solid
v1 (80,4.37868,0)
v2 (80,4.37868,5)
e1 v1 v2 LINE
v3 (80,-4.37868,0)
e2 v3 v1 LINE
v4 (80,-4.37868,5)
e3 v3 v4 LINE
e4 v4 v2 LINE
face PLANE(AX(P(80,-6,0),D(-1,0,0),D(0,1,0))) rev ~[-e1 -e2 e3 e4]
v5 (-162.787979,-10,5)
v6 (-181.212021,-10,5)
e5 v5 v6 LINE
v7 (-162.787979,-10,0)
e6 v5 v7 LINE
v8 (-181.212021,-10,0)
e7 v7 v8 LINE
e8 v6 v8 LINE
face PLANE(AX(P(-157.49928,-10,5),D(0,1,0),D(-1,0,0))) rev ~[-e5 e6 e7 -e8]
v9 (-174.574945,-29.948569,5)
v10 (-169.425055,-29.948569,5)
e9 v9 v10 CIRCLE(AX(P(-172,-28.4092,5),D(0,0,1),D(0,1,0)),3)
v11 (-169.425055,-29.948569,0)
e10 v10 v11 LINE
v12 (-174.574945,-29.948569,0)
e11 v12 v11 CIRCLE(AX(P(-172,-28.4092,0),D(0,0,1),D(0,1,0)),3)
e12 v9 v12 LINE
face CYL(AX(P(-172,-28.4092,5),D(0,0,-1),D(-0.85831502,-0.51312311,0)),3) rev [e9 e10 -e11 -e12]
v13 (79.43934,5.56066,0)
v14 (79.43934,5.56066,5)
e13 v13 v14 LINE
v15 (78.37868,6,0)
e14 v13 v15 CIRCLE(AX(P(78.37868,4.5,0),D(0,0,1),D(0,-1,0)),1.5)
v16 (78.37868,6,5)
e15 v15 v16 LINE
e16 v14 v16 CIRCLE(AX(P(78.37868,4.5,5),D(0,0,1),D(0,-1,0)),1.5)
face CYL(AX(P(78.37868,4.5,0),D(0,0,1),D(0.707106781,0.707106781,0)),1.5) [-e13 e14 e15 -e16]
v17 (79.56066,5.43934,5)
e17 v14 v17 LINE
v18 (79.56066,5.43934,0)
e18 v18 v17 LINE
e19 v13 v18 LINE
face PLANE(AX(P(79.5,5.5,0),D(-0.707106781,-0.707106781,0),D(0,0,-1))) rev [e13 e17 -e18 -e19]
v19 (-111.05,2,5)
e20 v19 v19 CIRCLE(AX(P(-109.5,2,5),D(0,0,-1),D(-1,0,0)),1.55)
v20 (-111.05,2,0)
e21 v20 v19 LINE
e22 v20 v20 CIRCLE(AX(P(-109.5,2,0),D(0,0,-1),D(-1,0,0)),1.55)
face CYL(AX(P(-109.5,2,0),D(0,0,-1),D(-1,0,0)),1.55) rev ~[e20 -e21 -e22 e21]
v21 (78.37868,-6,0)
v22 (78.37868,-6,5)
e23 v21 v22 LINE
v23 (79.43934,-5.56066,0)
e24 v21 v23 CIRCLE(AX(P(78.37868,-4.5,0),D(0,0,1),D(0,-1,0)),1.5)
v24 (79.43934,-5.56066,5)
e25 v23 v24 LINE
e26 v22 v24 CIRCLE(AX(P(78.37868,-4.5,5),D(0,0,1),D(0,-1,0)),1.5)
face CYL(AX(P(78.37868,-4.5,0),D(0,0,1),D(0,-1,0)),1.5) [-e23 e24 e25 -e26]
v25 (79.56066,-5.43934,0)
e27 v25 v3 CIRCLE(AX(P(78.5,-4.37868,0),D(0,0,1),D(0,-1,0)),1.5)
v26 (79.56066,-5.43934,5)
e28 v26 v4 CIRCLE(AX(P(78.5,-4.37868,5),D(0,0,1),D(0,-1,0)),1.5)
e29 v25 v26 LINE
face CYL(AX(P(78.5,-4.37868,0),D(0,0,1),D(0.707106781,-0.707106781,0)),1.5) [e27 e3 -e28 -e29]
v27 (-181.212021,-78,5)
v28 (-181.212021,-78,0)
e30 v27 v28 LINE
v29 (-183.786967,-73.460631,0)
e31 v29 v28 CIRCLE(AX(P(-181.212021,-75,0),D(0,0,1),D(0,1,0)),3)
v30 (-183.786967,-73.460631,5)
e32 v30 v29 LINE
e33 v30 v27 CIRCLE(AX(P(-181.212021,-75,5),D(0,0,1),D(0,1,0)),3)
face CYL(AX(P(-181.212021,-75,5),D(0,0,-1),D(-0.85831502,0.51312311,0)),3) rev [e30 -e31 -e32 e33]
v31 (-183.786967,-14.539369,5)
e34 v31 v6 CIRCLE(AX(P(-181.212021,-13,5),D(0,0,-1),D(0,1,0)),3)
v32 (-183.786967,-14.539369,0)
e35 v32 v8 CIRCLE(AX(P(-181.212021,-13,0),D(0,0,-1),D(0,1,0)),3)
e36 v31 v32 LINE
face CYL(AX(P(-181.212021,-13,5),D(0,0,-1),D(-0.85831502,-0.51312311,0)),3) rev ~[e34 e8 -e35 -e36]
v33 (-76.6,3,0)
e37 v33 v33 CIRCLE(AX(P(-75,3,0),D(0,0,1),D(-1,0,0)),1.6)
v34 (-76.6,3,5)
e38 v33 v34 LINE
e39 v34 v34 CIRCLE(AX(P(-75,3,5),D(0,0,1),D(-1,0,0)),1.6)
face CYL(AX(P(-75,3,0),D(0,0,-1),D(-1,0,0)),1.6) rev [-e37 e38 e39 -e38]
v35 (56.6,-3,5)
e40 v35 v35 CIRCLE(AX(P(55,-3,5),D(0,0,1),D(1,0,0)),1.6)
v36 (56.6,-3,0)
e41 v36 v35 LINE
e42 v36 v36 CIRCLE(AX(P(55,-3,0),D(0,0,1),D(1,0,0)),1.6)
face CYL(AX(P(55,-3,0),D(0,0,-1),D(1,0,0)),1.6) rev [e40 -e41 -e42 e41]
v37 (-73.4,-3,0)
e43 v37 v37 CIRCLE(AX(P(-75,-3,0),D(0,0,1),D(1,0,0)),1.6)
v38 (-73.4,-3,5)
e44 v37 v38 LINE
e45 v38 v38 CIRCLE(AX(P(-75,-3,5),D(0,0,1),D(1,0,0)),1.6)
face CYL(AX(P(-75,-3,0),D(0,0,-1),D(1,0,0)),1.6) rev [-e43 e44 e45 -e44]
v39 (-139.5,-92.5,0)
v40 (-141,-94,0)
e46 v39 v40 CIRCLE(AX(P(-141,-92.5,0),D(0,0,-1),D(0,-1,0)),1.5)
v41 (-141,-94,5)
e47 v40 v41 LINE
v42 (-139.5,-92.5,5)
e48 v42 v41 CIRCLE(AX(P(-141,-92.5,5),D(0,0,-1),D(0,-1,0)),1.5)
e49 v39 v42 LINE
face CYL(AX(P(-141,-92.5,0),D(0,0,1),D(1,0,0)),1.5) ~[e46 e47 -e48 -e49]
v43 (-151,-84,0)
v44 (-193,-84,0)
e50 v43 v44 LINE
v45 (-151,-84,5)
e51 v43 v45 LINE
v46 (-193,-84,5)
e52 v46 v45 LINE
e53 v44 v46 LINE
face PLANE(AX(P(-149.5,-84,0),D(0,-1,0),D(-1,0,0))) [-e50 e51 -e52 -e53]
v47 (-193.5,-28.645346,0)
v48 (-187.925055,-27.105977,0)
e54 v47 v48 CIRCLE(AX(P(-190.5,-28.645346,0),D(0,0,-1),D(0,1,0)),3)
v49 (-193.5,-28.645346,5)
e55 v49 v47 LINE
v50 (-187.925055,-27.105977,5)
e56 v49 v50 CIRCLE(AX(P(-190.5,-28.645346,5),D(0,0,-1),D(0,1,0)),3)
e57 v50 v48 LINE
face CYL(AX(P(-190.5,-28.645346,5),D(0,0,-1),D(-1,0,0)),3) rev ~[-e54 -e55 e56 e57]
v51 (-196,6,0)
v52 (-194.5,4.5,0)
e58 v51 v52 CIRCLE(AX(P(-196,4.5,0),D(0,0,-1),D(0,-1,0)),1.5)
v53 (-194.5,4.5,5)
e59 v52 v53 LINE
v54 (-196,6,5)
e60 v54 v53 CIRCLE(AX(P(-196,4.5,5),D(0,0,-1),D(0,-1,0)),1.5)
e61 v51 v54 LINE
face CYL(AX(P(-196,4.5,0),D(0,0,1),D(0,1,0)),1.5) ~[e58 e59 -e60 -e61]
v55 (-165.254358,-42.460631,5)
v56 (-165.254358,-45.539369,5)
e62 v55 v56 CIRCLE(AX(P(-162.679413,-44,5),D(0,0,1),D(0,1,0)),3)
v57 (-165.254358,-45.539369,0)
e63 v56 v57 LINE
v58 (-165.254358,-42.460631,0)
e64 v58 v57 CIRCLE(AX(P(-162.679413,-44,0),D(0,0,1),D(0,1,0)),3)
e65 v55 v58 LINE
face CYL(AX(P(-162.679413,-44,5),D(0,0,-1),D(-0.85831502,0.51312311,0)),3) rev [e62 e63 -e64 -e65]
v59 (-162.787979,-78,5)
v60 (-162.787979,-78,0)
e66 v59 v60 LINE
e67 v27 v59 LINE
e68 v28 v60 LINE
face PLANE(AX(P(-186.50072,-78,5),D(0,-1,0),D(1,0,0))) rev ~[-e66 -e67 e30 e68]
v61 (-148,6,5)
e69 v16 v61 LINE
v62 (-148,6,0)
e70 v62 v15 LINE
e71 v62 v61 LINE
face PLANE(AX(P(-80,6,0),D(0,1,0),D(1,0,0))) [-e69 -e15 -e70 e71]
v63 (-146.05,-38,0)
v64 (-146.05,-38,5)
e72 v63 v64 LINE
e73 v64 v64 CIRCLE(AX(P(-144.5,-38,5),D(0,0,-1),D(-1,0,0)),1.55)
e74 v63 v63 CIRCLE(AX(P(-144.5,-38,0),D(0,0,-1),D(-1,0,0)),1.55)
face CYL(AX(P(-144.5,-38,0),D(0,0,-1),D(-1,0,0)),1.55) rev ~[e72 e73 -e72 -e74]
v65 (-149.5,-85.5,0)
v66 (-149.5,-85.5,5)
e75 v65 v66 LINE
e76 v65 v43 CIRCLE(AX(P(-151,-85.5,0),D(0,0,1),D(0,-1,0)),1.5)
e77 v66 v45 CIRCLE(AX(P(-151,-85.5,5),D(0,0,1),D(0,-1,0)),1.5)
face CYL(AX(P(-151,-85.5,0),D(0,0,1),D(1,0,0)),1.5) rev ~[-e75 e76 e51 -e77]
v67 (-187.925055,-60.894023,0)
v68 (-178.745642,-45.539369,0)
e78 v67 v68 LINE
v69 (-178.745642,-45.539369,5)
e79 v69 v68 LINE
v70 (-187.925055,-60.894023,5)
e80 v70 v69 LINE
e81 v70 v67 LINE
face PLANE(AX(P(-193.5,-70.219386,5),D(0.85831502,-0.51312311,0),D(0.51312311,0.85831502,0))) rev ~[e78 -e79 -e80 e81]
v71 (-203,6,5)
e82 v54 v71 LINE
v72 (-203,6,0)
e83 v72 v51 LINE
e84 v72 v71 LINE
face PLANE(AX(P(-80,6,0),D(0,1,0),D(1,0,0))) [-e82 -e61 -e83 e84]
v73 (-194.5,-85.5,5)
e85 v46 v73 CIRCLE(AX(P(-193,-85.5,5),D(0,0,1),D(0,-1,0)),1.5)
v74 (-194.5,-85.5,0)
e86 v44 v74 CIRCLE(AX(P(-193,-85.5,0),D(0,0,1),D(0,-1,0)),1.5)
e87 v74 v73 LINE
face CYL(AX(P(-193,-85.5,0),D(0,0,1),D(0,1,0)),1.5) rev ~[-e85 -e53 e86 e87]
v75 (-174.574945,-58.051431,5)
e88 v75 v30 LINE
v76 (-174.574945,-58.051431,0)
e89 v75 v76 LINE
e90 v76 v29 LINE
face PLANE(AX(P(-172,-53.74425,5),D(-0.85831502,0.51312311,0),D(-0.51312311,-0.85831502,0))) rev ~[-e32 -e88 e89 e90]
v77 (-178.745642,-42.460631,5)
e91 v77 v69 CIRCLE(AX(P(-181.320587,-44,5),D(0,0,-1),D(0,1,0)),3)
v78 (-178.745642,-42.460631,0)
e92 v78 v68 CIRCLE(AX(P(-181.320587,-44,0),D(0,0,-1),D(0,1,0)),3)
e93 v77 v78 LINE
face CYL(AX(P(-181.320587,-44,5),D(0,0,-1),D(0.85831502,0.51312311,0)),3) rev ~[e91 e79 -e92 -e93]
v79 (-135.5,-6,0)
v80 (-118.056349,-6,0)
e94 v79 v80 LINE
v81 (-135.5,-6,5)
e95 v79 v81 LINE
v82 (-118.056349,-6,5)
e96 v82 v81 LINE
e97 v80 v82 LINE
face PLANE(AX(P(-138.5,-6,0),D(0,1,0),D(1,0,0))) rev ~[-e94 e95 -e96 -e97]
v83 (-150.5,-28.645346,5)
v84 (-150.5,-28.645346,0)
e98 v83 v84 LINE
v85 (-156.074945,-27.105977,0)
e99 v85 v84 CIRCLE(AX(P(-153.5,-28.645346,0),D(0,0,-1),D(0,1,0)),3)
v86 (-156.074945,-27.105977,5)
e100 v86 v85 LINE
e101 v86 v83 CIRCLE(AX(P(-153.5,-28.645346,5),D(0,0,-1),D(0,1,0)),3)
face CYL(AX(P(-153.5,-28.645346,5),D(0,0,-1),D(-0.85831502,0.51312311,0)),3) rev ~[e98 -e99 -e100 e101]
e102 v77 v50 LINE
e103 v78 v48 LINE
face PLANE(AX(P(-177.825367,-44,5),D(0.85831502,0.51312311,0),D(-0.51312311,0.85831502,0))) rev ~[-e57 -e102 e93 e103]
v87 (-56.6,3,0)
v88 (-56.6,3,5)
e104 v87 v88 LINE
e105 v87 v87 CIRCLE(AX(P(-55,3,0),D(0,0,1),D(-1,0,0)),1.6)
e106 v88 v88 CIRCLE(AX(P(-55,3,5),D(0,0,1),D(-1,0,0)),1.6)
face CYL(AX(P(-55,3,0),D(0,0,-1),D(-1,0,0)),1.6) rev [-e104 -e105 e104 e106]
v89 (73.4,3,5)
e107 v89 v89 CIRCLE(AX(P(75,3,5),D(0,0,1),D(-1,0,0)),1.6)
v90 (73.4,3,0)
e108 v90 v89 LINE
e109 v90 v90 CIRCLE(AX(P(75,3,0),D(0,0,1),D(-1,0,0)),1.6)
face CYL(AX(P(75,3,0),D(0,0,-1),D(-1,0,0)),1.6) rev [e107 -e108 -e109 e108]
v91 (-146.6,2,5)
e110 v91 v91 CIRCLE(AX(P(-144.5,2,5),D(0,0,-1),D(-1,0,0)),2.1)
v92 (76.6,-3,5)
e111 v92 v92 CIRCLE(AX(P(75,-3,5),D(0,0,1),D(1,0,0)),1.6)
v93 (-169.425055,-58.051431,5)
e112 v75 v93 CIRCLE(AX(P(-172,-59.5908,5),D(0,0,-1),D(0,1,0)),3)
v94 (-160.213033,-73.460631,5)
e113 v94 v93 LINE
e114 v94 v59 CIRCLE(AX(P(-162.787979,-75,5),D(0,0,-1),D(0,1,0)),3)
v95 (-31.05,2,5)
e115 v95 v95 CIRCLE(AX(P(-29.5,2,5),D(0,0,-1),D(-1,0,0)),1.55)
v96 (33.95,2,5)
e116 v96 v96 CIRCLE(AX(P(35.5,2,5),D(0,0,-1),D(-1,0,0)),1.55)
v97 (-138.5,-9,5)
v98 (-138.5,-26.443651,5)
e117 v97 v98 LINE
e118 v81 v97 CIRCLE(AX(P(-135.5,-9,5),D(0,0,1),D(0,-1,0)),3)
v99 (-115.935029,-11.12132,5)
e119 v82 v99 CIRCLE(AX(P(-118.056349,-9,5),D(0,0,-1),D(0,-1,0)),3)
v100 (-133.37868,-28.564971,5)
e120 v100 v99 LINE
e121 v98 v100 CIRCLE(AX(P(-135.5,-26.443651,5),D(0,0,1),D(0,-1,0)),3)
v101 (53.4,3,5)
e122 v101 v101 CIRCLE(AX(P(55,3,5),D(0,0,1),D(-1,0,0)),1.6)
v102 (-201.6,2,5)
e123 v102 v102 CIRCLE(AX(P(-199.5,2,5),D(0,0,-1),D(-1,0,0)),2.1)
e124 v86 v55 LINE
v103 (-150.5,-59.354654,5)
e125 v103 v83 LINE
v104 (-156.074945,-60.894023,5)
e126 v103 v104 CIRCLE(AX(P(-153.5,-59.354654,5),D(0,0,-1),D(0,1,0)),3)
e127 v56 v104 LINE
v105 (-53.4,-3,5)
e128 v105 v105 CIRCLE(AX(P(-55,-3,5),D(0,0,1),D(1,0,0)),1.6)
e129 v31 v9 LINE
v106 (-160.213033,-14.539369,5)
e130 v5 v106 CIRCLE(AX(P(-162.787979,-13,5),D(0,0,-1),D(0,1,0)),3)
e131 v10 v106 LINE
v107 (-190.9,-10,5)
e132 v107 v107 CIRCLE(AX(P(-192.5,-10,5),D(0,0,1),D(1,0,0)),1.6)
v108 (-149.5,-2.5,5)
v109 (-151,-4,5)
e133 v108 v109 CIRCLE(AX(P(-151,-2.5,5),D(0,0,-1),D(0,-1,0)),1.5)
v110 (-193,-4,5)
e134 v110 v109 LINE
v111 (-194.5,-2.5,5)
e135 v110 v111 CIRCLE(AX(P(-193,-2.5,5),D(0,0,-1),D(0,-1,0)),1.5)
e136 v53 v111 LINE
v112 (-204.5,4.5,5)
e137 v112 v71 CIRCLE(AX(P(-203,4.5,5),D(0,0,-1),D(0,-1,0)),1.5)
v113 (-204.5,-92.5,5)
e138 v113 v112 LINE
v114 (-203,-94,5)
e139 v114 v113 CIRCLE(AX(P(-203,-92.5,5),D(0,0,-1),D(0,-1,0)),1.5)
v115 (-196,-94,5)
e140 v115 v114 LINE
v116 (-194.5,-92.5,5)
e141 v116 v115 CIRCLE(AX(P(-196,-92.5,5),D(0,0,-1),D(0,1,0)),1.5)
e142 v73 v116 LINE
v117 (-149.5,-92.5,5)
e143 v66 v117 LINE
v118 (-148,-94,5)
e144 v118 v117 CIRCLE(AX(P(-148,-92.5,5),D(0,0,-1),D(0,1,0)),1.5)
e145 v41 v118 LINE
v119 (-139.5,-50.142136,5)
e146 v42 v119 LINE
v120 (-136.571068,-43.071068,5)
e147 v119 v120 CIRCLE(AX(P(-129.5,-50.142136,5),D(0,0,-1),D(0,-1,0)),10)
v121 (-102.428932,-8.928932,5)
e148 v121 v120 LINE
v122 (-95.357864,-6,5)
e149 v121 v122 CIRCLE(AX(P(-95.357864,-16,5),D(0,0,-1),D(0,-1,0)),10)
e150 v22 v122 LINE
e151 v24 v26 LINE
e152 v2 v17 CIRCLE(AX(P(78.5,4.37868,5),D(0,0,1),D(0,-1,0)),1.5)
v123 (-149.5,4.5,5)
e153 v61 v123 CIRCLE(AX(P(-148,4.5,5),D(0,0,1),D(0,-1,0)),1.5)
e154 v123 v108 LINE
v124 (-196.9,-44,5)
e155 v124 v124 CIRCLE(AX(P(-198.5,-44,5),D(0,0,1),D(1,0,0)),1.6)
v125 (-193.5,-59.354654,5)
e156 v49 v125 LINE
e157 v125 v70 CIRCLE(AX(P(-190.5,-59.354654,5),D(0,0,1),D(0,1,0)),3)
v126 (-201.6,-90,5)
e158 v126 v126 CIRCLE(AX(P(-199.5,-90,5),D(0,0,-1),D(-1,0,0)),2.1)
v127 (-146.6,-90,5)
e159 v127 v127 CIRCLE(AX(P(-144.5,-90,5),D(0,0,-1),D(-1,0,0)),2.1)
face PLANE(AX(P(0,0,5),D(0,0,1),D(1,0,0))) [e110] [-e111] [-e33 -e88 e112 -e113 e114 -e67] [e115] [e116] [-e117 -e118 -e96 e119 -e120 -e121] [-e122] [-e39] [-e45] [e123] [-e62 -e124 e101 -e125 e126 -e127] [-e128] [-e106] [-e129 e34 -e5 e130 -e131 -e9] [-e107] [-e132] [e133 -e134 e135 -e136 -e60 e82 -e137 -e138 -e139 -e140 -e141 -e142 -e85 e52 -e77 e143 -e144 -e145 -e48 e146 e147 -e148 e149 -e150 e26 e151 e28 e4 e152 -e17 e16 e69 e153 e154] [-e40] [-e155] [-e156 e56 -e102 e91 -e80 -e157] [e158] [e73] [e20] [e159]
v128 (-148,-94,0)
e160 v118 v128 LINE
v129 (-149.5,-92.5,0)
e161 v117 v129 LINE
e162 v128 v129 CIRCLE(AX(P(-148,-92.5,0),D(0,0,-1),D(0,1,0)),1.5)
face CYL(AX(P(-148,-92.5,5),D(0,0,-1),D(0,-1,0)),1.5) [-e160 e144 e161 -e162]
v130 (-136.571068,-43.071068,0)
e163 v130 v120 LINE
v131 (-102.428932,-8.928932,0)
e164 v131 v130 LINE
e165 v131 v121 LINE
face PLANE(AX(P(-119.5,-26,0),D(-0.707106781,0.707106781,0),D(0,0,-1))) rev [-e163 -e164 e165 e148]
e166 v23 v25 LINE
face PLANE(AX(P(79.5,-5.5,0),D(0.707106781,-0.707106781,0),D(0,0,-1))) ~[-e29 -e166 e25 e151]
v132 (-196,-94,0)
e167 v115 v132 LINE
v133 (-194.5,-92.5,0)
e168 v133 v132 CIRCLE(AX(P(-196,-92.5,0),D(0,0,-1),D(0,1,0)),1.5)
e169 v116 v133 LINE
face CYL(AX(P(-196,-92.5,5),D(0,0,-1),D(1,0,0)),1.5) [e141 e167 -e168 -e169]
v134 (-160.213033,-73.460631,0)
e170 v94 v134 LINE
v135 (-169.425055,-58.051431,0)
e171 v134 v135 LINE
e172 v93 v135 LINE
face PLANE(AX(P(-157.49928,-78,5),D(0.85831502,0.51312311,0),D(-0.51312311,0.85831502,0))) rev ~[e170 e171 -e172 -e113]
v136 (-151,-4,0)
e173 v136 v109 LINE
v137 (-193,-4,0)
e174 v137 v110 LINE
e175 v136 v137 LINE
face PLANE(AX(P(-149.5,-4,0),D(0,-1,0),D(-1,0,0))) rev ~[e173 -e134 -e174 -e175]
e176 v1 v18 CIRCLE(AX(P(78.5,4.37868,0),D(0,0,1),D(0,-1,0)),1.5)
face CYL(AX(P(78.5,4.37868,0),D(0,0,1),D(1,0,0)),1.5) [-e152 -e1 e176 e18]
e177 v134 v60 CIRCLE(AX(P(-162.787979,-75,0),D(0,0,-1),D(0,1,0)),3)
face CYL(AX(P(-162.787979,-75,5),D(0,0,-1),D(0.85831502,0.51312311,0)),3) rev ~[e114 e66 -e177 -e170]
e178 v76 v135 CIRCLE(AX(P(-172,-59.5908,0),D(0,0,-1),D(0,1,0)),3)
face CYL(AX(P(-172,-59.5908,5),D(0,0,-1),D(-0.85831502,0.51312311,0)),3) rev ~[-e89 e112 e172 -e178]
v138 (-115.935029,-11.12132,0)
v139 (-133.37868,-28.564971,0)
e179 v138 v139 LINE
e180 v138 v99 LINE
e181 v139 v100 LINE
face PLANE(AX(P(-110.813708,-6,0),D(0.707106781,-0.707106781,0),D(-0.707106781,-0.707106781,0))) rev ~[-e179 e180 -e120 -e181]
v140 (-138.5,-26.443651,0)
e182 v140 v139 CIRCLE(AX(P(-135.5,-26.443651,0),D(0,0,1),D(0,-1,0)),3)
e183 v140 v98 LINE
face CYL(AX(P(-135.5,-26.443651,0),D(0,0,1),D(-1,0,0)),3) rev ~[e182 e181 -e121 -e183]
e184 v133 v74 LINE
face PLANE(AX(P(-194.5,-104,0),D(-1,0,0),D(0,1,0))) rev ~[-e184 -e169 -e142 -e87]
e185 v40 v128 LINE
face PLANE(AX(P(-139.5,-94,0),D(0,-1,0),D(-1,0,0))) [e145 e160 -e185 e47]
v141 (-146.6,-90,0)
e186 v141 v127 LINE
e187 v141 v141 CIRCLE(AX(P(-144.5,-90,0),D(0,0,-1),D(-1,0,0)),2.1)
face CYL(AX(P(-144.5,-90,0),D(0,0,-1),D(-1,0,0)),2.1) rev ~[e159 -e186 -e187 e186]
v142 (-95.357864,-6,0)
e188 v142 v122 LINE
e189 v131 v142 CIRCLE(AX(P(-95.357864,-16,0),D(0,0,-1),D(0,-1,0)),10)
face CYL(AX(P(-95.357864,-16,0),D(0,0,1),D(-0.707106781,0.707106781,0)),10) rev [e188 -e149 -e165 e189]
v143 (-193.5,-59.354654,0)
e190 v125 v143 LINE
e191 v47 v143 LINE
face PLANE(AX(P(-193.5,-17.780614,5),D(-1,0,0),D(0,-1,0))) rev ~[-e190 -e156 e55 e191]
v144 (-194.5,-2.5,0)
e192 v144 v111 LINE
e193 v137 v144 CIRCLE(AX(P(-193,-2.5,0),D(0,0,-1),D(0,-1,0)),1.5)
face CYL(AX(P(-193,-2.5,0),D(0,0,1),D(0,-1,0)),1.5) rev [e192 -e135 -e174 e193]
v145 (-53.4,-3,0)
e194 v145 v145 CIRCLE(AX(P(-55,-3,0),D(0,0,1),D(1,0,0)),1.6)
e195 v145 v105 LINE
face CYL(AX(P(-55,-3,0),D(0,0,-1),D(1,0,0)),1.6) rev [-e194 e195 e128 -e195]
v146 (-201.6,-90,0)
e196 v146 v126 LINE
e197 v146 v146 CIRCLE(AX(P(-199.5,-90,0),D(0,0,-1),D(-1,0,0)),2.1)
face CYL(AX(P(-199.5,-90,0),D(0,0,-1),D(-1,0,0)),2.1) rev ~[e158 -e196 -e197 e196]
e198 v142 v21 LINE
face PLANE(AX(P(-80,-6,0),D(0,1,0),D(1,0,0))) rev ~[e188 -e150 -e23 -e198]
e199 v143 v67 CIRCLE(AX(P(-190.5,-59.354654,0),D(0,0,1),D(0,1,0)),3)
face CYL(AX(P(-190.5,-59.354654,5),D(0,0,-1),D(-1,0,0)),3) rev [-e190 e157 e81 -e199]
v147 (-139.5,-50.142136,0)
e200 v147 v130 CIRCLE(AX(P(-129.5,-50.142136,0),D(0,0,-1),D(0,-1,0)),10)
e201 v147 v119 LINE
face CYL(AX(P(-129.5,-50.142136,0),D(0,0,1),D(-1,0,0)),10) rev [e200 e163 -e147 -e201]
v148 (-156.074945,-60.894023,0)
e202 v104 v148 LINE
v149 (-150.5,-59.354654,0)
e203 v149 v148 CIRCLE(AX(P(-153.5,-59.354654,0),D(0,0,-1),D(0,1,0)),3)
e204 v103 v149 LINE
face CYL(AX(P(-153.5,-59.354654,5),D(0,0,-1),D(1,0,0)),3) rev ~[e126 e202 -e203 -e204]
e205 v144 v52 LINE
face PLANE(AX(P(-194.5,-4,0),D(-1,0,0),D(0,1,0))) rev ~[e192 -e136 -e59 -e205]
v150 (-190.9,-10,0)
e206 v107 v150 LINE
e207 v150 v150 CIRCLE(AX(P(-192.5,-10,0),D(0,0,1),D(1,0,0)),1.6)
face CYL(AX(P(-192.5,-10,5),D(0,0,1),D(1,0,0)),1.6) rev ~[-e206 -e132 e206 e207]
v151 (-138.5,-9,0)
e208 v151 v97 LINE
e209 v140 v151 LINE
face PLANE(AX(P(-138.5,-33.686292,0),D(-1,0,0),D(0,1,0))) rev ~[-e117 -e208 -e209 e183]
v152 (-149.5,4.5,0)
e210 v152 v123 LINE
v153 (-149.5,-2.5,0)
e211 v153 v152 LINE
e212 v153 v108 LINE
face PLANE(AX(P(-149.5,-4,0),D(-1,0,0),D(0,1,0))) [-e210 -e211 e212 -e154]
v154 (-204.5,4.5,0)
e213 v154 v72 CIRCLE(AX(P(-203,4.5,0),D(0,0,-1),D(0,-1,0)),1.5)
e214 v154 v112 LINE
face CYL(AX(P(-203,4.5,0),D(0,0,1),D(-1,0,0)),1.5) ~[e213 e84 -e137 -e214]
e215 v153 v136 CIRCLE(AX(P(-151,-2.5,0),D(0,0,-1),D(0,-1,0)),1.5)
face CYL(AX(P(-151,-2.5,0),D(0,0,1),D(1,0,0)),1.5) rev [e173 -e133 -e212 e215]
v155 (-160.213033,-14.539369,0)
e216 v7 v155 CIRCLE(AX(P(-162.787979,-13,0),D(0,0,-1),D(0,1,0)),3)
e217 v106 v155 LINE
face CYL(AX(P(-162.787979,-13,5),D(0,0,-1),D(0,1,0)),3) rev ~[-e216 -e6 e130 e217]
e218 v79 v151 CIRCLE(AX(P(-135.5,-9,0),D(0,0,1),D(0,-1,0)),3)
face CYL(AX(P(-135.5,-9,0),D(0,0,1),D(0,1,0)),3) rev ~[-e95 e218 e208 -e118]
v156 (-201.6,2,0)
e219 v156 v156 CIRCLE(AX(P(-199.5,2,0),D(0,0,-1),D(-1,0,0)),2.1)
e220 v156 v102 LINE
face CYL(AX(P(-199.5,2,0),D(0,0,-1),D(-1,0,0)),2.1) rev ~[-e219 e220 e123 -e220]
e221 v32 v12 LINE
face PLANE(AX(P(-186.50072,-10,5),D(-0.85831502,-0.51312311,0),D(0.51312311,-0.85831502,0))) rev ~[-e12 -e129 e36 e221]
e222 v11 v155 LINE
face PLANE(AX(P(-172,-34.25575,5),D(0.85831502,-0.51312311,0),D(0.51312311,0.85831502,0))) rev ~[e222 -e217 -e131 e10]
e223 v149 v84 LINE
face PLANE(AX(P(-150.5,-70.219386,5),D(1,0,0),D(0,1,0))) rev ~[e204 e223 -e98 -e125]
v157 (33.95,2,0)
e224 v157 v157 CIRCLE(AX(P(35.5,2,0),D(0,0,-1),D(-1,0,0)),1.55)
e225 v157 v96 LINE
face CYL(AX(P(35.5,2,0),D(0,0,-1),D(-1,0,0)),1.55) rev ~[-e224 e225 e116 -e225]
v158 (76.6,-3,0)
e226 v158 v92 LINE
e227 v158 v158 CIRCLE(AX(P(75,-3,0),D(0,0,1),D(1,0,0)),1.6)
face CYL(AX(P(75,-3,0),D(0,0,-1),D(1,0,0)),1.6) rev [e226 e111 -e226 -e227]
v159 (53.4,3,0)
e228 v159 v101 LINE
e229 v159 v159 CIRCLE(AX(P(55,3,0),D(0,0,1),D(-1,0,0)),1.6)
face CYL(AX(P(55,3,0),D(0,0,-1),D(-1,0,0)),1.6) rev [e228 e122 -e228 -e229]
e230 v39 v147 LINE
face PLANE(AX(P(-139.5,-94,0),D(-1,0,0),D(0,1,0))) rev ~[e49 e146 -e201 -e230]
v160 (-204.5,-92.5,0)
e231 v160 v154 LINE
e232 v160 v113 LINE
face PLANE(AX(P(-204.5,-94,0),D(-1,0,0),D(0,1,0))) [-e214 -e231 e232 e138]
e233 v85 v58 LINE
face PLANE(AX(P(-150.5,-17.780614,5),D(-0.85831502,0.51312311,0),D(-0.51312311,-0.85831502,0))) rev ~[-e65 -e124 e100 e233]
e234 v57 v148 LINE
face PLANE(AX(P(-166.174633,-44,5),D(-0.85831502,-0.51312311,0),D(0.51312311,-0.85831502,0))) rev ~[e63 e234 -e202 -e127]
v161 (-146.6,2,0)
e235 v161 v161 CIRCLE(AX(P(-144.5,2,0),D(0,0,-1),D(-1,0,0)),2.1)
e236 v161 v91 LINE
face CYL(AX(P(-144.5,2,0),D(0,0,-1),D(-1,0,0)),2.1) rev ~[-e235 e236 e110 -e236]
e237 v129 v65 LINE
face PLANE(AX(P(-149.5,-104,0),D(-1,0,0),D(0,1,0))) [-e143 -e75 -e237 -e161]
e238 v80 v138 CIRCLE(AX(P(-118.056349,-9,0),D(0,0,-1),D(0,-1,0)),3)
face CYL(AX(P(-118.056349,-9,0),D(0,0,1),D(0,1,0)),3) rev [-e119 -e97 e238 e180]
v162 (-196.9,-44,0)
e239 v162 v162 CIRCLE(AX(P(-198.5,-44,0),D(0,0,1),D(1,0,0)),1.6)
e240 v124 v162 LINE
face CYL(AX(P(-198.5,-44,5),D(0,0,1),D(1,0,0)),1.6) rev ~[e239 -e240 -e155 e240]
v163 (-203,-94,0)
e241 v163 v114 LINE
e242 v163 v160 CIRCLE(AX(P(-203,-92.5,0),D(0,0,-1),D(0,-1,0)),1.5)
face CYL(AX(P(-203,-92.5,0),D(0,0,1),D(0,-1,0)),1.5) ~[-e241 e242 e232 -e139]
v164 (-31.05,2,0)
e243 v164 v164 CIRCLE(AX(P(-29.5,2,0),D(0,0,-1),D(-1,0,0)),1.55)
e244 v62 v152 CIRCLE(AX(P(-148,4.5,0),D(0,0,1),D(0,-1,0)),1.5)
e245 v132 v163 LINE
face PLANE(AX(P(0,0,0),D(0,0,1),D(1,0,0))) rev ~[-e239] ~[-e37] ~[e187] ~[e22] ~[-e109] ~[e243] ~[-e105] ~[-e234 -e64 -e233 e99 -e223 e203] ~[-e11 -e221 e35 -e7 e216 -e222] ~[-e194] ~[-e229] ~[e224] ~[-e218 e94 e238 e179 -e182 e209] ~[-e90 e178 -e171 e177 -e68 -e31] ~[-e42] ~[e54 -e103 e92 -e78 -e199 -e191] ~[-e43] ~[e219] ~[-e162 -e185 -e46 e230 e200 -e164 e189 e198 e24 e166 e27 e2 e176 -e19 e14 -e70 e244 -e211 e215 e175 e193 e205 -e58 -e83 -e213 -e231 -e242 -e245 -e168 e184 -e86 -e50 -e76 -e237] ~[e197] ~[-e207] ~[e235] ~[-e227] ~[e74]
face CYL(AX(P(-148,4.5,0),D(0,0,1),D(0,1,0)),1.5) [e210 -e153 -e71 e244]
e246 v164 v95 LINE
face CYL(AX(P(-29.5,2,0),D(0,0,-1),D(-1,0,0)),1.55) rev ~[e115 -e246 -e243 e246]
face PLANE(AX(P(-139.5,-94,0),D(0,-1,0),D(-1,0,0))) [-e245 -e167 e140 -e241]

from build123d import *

# Parameters (mm, degrees)
SKETCH_1_W          = 160
SKETCH_1_H          = 12
SKETCH_1_R          = 1.6
EXTRUDE_1_DEPTH     = 5
CHAMFER_1_SIZE      = 1
SKETCH_2_W          = 124.5
SKETCH_2_H          = 12
SKETCH_2_W_2        = 65
SKETCH_2_H_2        = 88
EXTRUDE_2_DEPTH     = 5
CHAMFER_2_SIZE      = 40
SKETCH_3_R          = 2.1
SKETCH_3_W          = 45
SKETCH_3_H          = 20
CUT_EXTRUDE_1_DEPTH = 226.124965297
CUT_EXTRUDE_2_DEPTH = 226.124965297
CUT_EXTRUDE_3_DEPTH = 226.124965297
FILLET_1_R          = 3
FILLET_2_R          = 1.5
SKETCH_6_R          = 1.55
CUT_EXTRUDE_4_DEPTH = 226.124965297
FILLET_3_R          = 10
SKETCH_7_R          = 1.6
CUT_EXTRUDE_5_DEPTH = 226.124965297


with BuildPart() as part:
    # 草图1 → 凸台-拉伸1 (new body)
    with BuildSketch(Plane.XY):
        Rectangle(SKETCH_1_W, SKETCH_1_H)
        with Locations((55, -3)):
            Circle(SKETCH_1_R, mode=Mode.SUBTRACT)
        with Locations((75, -3)):
            Circle(SKETCH_1_R, mode=Mode.SUBTRACT)
        with Locations((-75, -3)):
            Circle(SKETCH_1_R, mode=Mode.SUBTRACT)
        with Locations((-55, -3)):
            Circle(SKETCH_1_R, mode=Mode.SUBTRACT)
        with Locations(Location((-75, 3, 0), (0, 0, 180))):
            Circle(SKETCH_1_R, mode=Mode.SUBTRACT)
        with Locations(Location((-55, 3, 0), (0, 0, 180))):
            Circle(SKETCH_1_R, mode=Mode.SUBTRACT)
        with Locations(Location((55, 3, 0), (0, 0, 180))):
            Circle(SKETCH_1_R, mode=Mode.SUBTRACT)
        with Locations(Location((75, 3, 0), (0, 0, 180))):
            Circle(SKETCH_1_R, mode=Mode.SUBTRACT)
    extrude(amount=EXTRUDE_1_DEPTH)

    # 倒角1
    chamfer_1_edges = [part.edges().sort_by_distance(p)[0] for p in [
        (80, -6, 2.5),
        (80, 6, 2.5),
    ]]
    chamfer(chamfer_1_edges, length=CHAMFER_1_SIZE)


with BuildPart() as body_2:
    # 草图2 → 凸台-拉伸2 (new body)
    with BuildSketch(Plane(origin=(0, 0, 0), x_dir=(-1, 0, 0), z_dir=(0, 0, -1))):
        with Locations((142.25, 0)):
            Rectangle(SKETCH_2_W, SKETCH_2_H)
        with Locations((172, -50)):
            Rectangle(SKETCH_2_W_2, SKETCH_2_H_2)
    extrude(amount=-EXTRUDE_2_DEPTH)

    # Combine 1: union part
    add(part.part)

    # 倒角2
    chamfer_2_edges = [body_2.edges().sort_by_distance(p)[0] for p in [
        (-139.5, -6, 2.5),
    ]]
    chamfer(chamfer_2_edges, length=CHAMFER_2_SIZE)

    # 草图3 → 切除-拉伸1 (cut, through all)
    with BuildSketch(Plane(origin=(0, 0, 0), x_dir=(-1, 0, 0), z_dir=(0, 0, -1))):
        with Locations((144.5, -90)):
            Circle(SKETCH_3_R)
        with Locations((199.5, -90)):
            Circle(SKETCH_3_R)
        with Locations((144.5, 2)):
            Circle(SKETCH_3_R)
        with Locations((199.5, 2)):
            Circle(SKETCH_3_R)
        with Locations((172, -94)):
            Rectangle(SKETCH_3_W, SKETCH_3_H)
        with Locations((172, 6)):
            Rectangle(SKETCH_3_W, SKETCH_3_H)
    extrude(amount=-CUT_EXTRUDE_1_DEPTH, mode=Mode.SUBTRACT)

    # 草图4 → 切除-拉伸2 (cut, through all)
    with BuildSketch(Plane.XY.offset(5)):
        Polygon((-150.5, -17.780613901), (-166.174632994, -44), (-150.5, -70.219386099), align=None)
        Polygon((-186.50071995, -10), (-172, -34.255749735), (-157.49928005, -10), align=None)
        Polygon((-172, -53.744250265), (-186.50071995, -78), (-157.49928005, -78), align=None)
        Polygon((-193.5, -17.780613901), (-193.5, -70.219386099), (-177.825367006, -44), align=None)
    extrude(amount=-CUT_EXTRUDE_2_DEPTH, mode=Mode.SUBTRACT)

    # 草图5 → 切除-拉伸3 (cut, through all)
    with BuildSketch(Plane(origin=(0, 0, 0), x_dir=(-1, 0, 0), z_dir=(0, 0, -1))):
        Polygon((110.813708499, -6), (138.5, -33.686291501), (138.5, -6), align=None)
    extrude(amount=-CUT_EXTRUDE_3_DEPTH, mode=Mode.SUBTRACT)

    # 圆角1
    fillet_1_edges = [body_2.edges().sort_by_distance(p)[0] for p in [
        (-157.49928005, -10, 2.5),
        (-172, -34.255749735, 2.5),
        (-186.50071995, -10, 2.5),
        (-186.50071995, -78, 2.5),
        (-172, -53.744250265, 2.5),
        (-157.49928005, -78, 2.5),
        (-193.5, -17.780613901, 2.5),
        (-177.825367006, -44, 2.5),
        (-193.5, -70.219386099, 2.5),
        (-150.5, -17.780613901, 2.5),
        (-150.5, -70.219386099, 2.5),
        (-166.174632994, -44, 2.5),
        (-110.813708499, -6, 2.5),
        (-138.5, -6, 2.5),
        (-138.5, -33.686291501, 2.5),
    ]]
    fillet(fillet_1_edges, radius=FILLET_1_R)

    # 圆角2
    fillet_2_edges = [body_2.edges().sort_by_distance(p)[0] for p in [
        (-204.5, -94, 2.5),
        (-139.5, -94, 2.5),
        (80, -5, 2.5),
        (80, 5, 2.5),
        (79, 6, 2.5),
        (79, -6, 2.5),
        (-204.5, 6, 2.5),
        (-194.5, -94, 2.5),
        (-149.5, -94, 2.5),
        (-194.5, -84, 2.5),
        (-149.5, -84, 2.5),
        (-194.5, 6, 2.5),
        (-149.5, 6, 2.5),
        (-149.5, -4, 2.5),
        (-194.5, -4, 2.5),
    ]]
    fillet(fillet_2_edges, radius=FILLET_2_R)

    # 草图6 → 切除-拉伸4 (cut, through all)
    with BuildSketch(Plane(origin=(0, 0, 0), x_dir=(-1, 0, 0), z_dir=(0, 0, -1))):
        with Locations((109.5, 2)):
            Circle(SKETCH_6_R)
        with Locations((144.5, -38)):
            Circle(SKETCH_6_R)
        with Locations((29.5, 2)):
            Circle(SKETCH_6_R)
        with Locations((-35.5, 2)):
            Circle(SKETCH_6_R)
    extrude(amount=-CUT_EXTRUDE_4_DEPTH, mode=Mode.SUBTRACT)

    # 圆角3
    fillet_3_edges = [body_2.edges().sort_by_distance(p)[0] for p in [
        (-99.5, -6, 2.5),
        (-139.5, -46, 2.5),
    ]]
    fillet(fillet_3_edges, radius=FILLET_3_R)

    # 草图7 → 切除-拉伸5 (cut, through all)
    with BuildSketch(Plane.XY.offset(5)):
        with Locations((-192.5, -10)):
            Circle(SKETCH_7_R)
        with Locations((-198.5, -44)):
            Circle(SKETCH_7_R)
    extrude(amount=-CUT_EXTRUDE_5_DEPTH, mode=Mode.SUBTRACT)


solid = body_2.part
